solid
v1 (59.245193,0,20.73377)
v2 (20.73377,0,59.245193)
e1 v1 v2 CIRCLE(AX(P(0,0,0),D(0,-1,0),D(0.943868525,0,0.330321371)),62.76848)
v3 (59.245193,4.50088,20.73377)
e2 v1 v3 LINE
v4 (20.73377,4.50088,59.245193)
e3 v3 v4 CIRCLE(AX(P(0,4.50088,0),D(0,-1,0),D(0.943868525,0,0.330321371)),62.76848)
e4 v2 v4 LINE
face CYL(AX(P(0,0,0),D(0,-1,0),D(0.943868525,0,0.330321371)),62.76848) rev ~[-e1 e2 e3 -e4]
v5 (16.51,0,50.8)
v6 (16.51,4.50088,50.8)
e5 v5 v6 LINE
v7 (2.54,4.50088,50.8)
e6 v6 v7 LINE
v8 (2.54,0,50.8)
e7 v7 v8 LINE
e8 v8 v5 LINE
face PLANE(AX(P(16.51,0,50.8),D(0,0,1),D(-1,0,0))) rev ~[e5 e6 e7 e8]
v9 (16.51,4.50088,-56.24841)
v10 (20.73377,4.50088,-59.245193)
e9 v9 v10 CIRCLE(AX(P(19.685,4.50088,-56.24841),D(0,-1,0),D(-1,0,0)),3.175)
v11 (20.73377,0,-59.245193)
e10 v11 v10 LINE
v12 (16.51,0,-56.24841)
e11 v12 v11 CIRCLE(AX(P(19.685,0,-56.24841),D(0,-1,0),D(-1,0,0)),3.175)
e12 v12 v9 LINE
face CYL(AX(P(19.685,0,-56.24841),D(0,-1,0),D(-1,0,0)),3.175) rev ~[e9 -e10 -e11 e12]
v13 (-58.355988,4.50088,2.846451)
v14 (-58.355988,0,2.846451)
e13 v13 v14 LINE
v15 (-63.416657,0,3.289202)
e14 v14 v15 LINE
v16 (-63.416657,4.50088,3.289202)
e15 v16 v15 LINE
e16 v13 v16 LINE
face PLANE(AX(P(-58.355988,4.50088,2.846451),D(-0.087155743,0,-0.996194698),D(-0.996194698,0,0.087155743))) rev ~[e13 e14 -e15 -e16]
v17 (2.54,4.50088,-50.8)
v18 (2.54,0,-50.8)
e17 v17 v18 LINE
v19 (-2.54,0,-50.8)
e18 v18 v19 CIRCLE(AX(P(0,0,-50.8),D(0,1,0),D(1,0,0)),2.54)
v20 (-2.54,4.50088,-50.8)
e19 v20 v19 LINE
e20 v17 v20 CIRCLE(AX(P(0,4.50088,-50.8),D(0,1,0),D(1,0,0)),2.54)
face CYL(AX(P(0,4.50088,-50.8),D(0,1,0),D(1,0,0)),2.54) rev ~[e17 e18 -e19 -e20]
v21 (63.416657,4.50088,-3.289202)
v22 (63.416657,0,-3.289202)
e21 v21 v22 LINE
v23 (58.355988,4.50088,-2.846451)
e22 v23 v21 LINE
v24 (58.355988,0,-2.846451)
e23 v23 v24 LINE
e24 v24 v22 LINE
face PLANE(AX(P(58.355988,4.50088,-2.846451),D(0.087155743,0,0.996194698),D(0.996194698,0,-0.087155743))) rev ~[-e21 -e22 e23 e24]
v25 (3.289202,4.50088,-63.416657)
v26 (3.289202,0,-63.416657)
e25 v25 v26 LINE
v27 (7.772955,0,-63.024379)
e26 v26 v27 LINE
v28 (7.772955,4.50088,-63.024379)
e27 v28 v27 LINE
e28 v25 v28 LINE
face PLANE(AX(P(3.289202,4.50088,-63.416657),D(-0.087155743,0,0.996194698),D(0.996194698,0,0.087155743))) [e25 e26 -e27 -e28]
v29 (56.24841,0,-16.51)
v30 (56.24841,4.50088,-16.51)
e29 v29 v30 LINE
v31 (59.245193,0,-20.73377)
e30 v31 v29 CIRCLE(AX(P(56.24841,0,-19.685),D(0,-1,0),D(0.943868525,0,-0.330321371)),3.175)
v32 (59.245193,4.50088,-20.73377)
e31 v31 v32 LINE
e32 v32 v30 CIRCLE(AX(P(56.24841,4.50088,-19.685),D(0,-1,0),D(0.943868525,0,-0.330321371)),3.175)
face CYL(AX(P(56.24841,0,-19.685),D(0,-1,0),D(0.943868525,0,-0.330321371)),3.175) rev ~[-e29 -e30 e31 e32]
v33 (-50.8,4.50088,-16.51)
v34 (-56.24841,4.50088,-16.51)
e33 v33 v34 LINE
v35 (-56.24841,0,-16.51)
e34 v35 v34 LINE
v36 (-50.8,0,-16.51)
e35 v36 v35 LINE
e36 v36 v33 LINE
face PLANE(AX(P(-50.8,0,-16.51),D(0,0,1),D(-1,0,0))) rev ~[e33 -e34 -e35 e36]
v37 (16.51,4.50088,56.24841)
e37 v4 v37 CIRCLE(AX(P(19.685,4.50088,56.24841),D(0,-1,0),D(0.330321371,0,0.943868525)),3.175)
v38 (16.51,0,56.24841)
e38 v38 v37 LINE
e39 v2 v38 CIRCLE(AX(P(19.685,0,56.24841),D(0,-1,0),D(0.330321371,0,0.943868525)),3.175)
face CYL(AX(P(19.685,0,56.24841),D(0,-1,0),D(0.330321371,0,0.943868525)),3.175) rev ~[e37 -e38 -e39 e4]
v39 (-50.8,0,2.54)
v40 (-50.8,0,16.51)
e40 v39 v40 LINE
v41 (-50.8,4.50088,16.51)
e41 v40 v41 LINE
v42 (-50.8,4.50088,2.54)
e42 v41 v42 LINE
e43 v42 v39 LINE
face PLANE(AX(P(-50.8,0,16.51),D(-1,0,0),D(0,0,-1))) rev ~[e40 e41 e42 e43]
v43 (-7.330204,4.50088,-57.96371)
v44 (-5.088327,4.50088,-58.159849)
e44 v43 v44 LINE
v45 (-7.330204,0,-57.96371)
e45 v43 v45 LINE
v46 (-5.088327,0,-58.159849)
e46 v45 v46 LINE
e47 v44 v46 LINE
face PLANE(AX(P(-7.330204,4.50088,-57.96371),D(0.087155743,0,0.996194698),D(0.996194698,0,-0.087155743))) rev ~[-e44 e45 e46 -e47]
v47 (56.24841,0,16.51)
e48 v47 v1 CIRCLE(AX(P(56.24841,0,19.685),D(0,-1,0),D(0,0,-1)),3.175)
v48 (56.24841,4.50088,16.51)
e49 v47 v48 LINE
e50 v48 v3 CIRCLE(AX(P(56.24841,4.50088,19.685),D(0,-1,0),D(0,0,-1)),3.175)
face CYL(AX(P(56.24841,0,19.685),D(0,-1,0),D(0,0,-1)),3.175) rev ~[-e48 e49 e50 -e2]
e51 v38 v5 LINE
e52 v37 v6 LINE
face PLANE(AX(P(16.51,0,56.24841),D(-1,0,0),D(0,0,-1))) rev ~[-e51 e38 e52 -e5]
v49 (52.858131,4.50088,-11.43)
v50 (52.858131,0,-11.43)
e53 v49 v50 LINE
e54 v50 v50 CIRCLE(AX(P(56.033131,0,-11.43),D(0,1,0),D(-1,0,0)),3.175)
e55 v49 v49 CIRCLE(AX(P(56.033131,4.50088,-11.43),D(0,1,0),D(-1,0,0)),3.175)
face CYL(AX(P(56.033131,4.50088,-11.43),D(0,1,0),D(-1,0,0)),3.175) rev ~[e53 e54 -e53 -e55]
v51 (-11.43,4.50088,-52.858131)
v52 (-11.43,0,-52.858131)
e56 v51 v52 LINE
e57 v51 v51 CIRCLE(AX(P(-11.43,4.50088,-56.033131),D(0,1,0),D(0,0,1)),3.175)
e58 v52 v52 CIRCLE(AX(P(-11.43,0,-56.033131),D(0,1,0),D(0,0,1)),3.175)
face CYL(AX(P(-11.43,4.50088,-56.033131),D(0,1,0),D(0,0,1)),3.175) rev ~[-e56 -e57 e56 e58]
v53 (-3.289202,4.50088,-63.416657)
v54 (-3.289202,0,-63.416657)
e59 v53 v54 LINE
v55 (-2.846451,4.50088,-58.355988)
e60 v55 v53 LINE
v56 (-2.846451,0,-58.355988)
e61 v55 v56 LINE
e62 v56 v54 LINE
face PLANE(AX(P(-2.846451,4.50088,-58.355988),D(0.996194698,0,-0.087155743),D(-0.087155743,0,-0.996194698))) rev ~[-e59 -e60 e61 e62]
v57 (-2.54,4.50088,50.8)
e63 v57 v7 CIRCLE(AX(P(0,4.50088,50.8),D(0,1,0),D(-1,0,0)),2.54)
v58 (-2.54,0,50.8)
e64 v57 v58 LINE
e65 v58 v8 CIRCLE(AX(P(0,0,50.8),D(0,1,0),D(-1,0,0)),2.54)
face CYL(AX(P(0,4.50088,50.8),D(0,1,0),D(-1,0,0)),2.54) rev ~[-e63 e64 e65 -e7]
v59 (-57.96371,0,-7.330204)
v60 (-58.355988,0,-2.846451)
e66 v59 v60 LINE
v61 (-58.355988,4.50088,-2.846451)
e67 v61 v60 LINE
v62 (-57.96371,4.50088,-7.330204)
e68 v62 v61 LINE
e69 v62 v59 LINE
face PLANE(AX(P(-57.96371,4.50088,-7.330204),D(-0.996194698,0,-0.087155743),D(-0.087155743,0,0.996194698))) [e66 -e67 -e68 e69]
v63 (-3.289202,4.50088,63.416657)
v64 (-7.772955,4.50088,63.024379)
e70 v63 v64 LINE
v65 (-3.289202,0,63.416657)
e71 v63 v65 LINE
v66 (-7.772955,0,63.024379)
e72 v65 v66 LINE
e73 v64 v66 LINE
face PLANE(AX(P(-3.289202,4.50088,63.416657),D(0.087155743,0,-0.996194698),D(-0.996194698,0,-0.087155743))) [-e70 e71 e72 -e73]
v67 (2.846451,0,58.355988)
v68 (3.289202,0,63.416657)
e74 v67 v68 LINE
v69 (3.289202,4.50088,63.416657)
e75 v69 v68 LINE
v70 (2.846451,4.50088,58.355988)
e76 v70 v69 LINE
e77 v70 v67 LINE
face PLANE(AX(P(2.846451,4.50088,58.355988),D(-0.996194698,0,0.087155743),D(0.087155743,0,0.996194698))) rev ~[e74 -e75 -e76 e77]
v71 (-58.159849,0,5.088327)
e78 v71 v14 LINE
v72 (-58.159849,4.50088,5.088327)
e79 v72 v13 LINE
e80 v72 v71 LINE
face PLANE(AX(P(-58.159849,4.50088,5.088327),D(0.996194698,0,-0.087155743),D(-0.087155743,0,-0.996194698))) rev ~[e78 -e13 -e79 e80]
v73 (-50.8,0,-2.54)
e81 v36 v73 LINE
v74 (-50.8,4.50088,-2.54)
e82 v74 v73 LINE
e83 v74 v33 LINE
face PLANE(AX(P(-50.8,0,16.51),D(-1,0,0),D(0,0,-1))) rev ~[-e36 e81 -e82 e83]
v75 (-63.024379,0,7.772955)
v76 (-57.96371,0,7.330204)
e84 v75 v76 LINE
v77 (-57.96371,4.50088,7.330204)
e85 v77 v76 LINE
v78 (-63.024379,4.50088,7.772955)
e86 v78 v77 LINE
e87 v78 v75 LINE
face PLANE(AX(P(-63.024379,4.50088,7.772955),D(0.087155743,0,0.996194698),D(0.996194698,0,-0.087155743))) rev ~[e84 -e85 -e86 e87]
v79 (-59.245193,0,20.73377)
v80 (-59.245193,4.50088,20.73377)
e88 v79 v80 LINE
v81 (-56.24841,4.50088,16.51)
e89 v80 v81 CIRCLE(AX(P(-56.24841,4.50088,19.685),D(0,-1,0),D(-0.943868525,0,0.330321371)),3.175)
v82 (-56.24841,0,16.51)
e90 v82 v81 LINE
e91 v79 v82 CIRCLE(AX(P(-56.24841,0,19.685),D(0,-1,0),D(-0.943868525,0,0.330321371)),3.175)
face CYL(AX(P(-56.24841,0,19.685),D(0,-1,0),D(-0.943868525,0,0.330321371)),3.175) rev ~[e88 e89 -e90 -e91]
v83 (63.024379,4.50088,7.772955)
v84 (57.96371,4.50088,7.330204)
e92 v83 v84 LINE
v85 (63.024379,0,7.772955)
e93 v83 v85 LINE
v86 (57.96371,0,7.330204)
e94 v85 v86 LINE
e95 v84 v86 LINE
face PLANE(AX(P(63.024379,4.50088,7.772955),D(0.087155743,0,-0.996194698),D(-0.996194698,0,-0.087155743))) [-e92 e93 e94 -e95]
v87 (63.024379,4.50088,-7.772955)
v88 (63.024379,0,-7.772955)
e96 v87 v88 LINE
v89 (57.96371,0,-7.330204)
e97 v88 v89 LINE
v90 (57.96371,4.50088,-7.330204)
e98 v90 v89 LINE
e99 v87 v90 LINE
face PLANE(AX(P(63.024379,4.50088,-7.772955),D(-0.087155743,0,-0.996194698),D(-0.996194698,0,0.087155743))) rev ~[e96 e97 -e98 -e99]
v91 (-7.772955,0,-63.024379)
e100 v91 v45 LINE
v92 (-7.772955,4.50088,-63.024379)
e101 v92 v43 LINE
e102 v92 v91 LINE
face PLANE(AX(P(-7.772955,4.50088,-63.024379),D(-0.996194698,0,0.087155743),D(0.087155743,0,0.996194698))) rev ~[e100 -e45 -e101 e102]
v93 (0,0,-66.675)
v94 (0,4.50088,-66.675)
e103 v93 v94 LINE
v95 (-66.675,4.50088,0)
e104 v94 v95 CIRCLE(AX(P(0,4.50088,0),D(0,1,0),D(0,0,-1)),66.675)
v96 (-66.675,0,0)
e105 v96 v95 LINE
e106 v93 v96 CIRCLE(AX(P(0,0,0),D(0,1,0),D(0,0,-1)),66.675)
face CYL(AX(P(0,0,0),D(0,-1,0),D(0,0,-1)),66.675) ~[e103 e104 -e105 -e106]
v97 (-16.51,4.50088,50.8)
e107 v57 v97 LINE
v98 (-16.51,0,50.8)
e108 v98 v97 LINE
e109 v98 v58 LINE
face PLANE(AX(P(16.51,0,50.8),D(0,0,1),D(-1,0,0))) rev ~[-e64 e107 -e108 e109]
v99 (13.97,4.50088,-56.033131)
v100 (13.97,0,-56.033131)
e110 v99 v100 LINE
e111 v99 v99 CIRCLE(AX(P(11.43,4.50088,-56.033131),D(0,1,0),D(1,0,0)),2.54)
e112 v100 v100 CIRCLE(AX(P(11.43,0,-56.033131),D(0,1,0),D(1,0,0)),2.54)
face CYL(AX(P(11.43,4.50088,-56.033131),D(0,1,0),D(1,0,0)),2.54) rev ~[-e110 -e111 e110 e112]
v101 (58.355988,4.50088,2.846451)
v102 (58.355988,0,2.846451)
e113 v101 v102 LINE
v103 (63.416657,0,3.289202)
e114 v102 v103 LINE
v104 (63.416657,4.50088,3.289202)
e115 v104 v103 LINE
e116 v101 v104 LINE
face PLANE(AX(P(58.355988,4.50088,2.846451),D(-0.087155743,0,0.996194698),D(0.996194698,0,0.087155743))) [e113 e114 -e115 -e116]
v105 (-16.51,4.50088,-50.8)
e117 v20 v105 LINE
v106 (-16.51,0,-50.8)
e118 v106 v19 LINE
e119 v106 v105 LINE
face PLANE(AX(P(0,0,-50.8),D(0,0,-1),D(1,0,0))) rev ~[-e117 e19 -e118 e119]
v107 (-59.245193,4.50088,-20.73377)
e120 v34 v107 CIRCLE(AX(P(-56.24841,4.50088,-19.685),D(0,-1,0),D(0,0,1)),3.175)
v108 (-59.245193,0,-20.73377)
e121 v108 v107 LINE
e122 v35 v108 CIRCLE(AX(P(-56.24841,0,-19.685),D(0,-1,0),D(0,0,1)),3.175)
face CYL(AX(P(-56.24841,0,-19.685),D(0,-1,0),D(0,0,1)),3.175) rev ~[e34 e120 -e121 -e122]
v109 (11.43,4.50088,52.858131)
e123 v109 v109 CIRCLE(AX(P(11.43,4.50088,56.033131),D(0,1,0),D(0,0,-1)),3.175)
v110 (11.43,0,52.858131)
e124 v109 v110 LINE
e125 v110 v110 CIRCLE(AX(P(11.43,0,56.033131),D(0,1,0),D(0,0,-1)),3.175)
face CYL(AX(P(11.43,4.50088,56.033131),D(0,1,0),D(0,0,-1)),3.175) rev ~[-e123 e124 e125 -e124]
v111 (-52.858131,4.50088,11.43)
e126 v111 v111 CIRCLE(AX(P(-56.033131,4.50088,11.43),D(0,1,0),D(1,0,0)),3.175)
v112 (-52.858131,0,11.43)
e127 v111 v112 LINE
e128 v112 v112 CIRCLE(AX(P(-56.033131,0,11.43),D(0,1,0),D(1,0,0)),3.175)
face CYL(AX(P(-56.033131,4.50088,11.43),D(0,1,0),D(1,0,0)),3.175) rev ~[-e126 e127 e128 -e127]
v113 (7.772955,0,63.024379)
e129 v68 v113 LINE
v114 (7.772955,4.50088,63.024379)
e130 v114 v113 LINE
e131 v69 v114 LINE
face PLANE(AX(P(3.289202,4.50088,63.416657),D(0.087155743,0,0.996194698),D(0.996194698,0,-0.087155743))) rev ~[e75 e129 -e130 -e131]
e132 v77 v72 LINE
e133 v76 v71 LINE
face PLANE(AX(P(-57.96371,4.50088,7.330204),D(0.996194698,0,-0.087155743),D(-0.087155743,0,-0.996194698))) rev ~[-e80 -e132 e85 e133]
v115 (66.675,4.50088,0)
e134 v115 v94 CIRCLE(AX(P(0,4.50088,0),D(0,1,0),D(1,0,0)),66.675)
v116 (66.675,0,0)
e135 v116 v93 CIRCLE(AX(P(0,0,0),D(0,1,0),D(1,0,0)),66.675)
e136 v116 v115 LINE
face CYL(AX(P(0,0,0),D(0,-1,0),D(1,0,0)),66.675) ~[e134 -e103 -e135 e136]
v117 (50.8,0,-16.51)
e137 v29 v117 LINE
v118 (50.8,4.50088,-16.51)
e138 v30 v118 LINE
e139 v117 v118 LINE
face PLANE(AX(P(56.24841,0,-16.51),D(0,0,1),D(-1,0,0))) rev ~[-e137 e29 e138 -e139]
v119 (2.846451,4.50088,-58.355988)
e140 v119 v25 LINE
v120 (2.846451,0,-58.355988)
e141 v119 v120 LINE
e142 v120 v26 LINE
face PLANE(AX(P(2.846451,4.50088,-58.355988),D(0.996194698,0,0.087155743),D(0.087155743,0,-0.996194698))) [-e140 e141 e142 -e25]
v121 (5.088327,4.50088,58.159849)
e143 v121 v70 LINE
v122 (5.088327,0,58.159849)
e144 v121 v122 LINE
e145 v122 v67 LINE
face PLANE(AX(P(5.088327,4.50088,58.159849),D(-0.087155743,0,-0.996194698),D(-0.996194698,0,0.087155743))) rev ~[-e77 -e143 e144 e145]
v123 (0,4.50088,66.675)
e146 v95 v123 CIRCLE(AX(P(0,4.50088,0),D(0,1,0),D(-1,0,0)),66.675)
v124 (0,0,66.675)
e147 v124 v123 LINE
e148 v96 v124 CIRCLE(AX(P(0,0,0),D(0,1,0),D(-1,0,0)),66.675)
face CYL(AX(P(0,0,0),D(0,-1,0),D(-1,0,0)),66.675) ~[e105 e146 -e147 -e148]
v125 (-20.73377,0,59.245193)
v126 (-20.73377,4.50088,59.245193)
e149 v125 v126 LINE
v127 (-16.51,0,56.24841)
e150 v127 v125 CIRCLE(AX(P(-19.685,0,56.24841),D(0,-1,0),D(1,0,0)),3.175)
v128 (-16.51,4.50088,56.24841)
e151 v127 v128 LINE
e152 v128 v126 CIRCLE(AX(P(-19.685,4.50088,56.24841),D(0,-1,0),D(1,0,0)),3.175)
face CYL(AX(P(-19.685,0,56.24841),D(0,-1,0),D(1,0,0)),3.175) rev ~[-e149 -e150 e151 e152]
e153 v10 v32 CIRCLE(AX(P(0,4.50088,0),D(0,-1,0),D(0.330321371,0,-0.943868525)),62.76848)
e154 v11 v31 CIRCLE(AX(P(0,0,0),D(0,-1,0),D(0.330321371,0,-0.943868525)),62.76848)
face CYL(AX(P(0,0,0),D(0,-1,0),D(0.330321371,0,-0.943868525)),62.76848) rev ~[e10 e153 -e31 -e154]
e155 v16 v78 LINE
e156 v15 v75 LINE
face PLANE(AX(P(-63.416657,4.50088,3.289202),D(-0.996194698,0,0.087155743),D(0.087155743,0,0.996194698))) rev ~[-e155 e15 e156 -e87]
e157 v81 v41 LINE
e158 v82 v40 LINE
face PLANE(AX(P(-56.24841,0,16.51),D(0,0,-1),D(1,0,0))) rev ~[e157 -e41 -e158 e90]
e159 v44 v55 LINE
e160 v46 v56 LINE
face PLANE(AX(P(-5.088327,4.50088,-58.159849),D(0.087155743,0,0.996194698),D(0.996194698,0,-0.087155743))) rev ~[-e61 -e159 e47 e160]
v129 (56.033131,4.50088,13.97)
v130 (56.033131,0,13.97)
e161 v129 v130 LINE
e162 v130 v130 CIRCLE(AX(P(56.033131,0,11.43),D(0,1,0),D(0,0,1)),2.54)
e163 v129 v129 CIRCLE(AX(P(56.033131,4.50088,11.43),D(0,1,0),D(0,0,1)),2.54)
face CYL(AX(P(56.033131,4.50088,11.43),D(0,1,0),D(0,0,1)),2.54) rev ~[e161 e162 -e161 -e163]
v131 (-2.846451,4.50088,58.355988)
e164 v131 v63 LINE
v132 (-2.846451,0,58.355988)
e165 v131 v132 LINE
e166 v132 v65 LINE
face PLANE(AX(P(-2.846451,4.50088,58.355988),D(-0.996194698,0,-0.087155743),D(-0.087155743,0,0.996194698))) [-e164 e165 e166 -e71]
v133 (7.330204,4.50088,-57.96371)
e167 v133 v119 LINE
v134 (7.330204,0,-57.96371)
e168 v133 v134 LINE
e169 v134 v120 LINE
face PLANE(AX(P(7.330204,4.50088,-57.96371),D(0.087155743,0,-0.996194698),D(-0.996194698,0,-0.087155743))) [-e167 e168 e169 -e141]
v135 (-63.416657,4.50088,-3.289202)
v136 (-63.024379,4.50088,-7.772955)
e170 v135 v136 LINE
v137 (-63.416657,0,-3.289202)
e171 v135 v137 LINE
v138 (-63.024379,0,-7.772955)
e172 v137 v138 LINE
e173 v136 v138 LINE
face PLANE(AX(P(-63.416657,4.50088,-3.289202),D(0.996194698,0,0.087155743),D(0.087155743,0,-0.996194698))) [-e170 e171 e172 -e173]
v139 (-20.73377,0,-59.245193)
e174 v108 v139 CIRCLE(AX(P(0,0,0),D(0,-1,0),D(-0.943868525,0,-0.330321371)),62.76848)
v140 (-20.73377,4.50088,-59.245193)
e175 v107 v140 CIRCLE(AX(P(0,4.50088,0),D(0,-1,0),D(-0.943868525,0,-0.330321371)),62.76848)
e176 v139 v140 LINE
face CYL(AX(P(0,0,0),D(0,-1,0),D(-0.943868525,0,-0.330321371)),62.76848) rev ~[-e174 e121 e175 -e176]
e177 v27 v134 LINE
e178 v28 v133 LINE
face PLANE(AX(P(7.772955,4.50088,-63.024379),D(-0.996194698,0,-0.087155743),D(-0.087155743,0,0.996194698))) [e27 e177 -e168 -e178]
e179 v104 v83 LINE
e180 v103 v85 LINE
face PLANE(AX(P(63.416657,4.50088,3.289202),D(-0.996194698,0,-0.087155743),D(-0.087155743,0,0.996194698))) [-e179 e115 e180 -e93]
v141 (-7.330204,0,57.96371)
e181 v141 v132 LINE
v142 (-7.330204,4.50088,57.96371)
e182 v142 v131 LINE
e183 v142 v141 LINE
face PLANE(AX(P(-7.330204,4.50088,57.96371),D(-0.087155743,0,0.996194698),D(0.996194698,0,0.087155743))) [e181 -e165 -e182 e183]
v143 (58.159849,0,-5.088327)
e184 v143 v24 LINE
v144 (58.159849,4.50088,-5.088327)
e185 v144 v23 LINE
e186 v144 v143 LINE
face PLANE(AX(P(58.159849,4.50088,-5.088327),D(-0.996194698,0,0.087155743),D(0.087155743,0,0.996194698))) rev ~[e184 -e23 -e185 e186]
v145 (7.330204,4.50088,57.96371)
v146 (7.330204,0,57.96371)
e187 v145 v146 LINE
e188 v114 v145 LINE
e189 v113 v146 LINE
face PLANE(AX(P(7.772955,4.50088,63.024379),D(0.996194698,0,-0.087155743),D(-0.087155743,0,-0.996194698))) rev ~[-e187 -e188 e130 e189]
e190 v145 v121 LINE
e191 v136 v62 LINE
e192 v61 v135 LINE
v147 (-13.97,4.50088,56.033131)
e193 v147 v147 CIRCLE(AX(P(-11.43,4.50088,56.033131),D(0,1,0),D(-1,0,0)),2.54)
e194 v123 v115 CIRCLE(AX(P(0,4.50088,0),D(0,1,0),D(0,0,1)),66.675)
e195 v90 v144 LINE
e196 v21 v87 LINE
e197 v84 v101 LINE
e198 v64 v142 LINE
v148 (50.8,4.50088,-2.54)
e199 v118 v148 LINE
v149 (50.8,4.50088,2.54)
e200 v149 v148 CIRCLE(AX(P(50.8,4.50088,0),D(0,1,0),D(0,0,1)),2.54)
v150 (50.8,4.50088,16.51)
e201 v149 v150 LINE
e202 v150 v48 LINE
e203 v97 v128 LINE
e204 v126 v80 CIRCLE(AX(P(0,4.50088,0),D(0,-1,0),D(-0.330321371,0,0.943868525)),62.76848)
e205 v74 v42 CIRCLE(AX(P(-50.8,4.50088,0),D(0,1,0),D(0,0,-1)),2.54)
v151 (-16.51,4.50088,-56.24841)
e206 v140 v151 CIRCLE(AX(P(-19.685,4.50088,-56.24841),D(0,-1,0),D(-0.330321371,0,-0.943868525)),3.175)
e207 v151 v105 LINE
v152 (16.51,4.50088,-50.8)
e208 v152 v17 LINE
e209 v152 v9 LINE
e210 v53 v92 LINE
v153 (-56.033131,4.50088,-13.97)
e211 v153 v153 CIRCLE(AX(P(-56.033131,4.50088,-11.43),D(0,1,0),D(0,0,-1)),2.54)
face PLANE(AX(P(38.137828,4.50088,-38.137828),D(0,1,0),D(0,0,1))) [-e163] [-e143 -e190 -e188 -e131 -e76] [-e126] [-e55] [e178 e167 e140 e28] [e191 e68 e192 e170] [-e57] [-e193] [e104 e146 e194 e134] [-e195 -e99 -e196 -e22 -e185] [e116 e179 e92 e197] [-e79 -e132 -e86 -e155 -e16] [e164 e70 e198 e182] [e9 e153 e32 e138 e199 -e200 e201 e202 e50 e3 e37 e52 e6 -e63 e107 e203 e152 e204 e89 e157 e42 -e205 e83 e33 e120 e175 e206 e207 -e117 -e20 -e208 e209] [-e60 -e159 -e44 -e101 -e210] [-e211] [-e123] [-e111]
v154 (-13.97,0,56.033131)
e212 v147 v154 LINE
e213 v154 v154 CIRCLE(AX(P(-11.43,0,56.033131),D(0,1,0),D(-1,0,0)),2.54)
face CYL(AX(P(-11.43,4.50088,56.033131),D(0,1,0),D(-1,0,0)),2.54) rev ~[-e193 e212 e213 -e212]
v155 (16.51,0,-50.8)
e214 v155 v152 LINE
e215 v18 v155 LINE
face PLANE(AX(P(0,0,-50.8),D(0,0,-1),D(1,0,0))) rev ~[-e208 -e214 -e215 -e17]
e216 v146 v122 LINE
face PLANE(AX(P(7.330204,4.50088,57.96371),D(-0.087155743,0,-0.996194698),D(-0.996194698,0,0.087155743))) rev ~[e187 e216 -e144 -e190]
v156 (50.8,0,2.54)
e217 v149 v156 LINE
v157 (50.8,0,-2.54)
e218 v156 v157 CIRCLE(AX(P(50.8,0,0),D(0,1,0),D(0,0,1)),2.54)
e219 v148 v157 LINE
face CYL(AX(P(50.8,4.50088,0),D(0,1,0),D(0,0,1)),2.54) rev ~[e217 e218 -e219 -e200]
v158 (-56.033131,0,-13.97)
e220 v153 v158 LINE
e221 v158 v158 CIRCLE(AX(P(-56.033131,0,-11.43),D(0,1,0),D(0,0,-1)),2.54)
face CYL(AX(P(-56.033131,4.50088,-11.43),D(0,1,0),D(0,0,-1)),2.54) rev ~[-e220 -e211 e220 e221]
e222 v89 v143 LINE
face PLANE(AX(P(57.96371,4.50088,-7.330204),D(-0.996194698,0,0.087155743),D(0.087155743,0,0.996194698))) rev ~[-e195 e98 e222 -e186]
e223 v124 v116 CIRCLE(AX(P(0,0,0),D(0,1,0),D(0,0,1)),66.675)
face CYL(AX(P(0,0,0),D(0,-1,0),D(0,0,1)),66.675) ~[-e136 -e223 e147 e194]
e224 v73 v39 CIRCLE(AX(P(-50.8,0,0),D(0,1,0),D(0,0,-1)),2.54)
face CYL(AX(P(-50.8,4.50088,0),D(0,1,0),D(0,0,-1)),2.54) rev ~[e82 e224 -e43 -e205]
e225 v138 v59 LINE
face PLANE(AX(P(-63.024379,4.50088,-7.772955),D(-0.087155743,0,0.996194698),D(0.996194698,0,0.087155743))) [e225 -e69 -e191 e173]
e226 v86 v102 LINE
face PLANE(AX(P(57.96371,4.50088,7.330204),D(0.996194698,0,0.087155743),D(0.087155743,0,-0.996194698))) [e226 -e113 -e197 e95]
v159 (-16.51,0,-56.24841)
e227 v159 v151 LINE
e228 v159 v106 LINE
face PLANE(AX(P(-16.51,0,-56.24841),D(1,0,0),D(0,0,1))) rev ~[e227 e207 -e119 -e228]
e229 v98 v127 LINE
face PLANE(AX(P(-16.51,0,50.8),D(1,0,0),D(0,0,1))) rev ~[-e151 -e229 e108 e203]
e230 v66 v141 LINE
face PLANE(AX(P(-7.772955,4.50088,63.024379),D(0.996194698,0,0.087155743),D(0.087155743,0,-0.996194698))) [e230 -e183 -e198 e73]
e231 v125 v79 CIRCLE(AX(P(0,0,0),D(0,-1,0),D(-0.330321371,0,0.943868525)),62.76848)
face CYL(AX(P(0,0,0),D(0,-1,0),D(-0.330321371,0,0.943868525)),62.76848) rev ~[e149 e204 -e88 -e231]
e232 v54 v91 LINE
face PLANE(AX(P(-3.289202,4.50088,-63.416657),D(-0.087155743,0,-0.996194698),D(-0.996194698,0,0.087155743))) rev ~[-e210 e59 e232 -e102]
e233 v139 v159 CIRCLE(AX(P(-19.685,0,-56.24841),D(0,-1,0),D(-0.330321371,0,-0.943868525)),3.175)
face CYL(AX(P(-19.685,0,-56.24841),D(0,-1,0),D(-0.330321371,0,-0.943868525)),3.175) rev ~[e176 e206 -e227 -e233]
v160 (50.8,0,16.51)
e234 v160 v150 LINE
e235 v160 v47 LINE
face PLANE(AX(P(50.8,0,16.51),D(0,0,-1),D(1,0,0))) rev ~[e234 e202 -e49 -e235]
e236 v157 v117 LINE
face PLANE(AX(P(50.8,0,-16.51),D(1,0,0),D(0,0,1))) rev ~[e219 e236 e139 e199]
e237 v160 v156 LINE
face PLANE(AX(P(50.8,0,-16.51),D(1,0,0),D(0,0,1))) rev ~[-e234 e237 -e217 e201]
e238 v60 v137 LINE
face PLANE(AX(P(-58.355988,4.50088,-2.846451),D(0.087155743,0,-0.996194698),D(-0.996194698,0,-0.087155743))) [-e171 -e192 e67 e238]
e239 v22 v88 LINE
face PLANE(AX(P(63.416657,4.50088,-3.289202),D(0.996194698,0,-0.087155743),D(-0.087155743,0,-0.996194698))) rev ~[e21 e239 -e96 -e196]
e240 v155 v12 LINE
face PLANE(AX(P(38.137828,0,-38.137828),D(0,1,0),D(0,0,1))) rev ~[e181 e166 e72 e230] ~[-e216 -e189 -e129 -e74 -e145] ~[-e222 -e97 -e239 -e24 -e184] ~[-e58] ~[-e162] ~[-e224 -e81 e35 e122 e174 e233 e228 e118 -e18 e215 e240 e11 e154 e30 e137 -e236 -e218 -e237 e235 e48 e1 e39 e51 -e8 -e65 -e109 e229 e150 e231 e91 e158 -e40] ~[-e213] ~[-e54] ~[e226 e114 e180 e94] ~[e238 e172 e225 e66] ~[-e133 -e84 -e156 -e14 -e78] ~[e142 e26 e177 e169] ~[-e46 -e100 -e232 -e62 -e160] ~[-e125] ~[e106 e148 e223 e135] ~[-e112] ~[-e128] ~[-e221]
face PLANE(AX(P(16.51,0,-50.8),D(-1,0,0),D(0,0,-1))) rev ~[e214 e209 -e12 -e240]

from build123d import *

# Parameters (mm, degrees)
BOSS_EXTRUDE1_DEPTH = 4.50088
CUT_EXTRUDE1_DEPTH  = 4.50088
CIRPATTERN1_COUNT   = 4
CUT_EXTRUDE3_DEPTH  = 5.50088
CIRPATTERN2_COUNT   = 4
SKETCH6_R           = 3.175
CUT_EXTRUDE4_DEPTH  = 5.50088
CIRPATTERN3_COUNT   = 4
SKETCH9_R           = 2.54
CUT_EXTRUDE5_DEPTH  = 5.50088
CIRPATTERN4_COUNT   = 4


with BuildPart() as part:
    # Sketch1 → Boss-Extrude1 (new body)
    with BuildSketch(Plane(origin=(0, 0, 0), x_dir=(1, 0, 0), z_dir=(0, 1, 0))):
        with BuildLine():
            Line((-66.675, 0), (-50.8, 0))
            Line((-50.8, 0), (-50.8, 16.51))
            Line((-50.8, 16.51), (-56.248410053, 16.51))
            ThreePointArc((-56.248410053, 16.51), (-58.837856989, 17.84777667), (-59.245192619, 20.733770352))
            ThreePointArc((-59.245192619, 20.733770352), (-44.384017853, 44.384017853), (-20.733770352, 59.245192619))
            ThreePointArc((-20.733770352, 59.245192619), (-17.84777667, 58.837856989), (-16.51, 56.248410053))
            Line((-16.51, 56.248410053), (-16.51, 50.8))
            Line((-16.51, 50.8), (0, 50.8))
            Line((0, 50.8), (0, 66.675))
            ThreePointArc((0, 66.675), (-47.146344636, 47.146344636), (-66.675, 0))
        make_face()
    boss_extrude1 = extrude(amount=BOSS_EXTRUDE1_DEPTH)

    # Sketch2 → Cut-Extrude1 (cut)
    with BuildSketch(Plane(origin=(0, 4.50088, 0), x_dir=(1, 0, 0), z_dir=(0, 1, 0))):
        Polygon((-63.024379444, 7.772955042), (-57.963710378, 7.330203869), (-58.355987918, 2.846451076), (-63.416656984, 3.28920225), align=None)
        Polygon((-7.330203869, 57.963710378), (-5.088327473, 58.159849148), (-5.531078646, 63.220518214), (-7.772955042, 63.024379444), align=None)
        Polygon((-5.531078646, 63.220518214), (-5.088327473, 58.159849148), (-2.846451076, 58.355987918), (-3.28920225, 63.416656984), align=None)
    cut_extrude1 = extrude(amount=-CUT_EXTRUDE1_DEPTH, mode=Mode.SUBTRACT)

    # CirPattern1: Boss-Extrude1, Cut-Extrude1 ×4 about axis
    cirpattern1_axis = Axis((0, 0, 0), (0, 1, 0))
    for i in range(1, CIRPATTERN1_COUNT):
        add(boss_extrude1.rotate(cirpattern1_axis, i * 360 / CIRPATTERN1_COUNT))
        add(cut_extrude1.rotate(cirpattern1_axis, i * 360 / CIRPATTERN1_COUNT), mode=Mode.SUBTRACT)

    # Sketch5 → Cut-Extrude3 (cut, through all)
    with BuildSketch(Plane(origin=(0, 4.50088, 0), x_dir=(1, 0, 0), z_dir=(0, 1, 0))):
        with BuildLine():
            Line((-2.54, 50.8), (2.54, 50.8))
            ThreePointArc((2.54, 50.8), (0, 53.34), (-2.54, 50.8))
        make_face()
    cut_extrude3 = extrude(amount=-CUT_EXTRUDE3_DEPTH, mode=Mode.SUBTRACT)

    # CirPattern2: Cut-Extrude3 ×4 about axis
    cirpattern2_axis = Axis((0, 0, 0), (0, 1, 0))
    for i in range(1, CIRPATTERN2_COUNT):
        add(cut_extrude3.rotate(cirpattern2_axis, i * 360 / CIRPATTERN2_COUNT), mode=Mode.SUBTRACT)

    # Sketch6 → Cut-Extrude4 (cut, through all)
    with BuildSketch(Plane(origin=(0, 4.50088, 0), x_dir=(1, 0, 0), z_dir=(0, 1, 0))):
        with Locations((-56.03313088, -11.43)):
            Circle(SKETCH6_R)
    cut_extrude4 = extrude(amount=-CUT_EXTRUDE4_DEPTH, mode=Mode.SUBTRACT)

    # CirPattern3: Cut-Extrude4 ×4 about axis
    cirpattern3_axis = Axis((0, 0, 0), (0, 1, 0))
    for i in range(1, CIRPATTERN3_COUNT):
        add(cut_extrude4.rotate(cirpattern3_axis, i * 360 / CIRPATTERN3_COUNT), mode=Mode.SUBTRACT)

    # Sketch9 → Cut-Extrude5 (cut, through all)
    with BuildSketch(Plane(origin=(0, 4.50088, 0), x_dir=(1, 0, 0), z_dir=(0, 1, 0))):
        with Locations((11.43, 56.03313088)):
            Circle(SKETCH9_R)
    cut_extrude5 = extrude(amount=-CUT_EXTRUDE5_DEPTH, mode=Mode.SUBTRACT)

    # CirPattern4: Cut-Extrude5 ×4 about axis
    cirpattern4_axis = Axis((0, 0, 0), (0, 1, 0))
    for i in range(1, CIRPATTERN4_COUNT):
        add(cut_extrude5.rotate(cirpattern4_axis, i * 360 / CIRPATTERN4_COUNT), mode=Mode.SUBTRACT)


solid = part.part
